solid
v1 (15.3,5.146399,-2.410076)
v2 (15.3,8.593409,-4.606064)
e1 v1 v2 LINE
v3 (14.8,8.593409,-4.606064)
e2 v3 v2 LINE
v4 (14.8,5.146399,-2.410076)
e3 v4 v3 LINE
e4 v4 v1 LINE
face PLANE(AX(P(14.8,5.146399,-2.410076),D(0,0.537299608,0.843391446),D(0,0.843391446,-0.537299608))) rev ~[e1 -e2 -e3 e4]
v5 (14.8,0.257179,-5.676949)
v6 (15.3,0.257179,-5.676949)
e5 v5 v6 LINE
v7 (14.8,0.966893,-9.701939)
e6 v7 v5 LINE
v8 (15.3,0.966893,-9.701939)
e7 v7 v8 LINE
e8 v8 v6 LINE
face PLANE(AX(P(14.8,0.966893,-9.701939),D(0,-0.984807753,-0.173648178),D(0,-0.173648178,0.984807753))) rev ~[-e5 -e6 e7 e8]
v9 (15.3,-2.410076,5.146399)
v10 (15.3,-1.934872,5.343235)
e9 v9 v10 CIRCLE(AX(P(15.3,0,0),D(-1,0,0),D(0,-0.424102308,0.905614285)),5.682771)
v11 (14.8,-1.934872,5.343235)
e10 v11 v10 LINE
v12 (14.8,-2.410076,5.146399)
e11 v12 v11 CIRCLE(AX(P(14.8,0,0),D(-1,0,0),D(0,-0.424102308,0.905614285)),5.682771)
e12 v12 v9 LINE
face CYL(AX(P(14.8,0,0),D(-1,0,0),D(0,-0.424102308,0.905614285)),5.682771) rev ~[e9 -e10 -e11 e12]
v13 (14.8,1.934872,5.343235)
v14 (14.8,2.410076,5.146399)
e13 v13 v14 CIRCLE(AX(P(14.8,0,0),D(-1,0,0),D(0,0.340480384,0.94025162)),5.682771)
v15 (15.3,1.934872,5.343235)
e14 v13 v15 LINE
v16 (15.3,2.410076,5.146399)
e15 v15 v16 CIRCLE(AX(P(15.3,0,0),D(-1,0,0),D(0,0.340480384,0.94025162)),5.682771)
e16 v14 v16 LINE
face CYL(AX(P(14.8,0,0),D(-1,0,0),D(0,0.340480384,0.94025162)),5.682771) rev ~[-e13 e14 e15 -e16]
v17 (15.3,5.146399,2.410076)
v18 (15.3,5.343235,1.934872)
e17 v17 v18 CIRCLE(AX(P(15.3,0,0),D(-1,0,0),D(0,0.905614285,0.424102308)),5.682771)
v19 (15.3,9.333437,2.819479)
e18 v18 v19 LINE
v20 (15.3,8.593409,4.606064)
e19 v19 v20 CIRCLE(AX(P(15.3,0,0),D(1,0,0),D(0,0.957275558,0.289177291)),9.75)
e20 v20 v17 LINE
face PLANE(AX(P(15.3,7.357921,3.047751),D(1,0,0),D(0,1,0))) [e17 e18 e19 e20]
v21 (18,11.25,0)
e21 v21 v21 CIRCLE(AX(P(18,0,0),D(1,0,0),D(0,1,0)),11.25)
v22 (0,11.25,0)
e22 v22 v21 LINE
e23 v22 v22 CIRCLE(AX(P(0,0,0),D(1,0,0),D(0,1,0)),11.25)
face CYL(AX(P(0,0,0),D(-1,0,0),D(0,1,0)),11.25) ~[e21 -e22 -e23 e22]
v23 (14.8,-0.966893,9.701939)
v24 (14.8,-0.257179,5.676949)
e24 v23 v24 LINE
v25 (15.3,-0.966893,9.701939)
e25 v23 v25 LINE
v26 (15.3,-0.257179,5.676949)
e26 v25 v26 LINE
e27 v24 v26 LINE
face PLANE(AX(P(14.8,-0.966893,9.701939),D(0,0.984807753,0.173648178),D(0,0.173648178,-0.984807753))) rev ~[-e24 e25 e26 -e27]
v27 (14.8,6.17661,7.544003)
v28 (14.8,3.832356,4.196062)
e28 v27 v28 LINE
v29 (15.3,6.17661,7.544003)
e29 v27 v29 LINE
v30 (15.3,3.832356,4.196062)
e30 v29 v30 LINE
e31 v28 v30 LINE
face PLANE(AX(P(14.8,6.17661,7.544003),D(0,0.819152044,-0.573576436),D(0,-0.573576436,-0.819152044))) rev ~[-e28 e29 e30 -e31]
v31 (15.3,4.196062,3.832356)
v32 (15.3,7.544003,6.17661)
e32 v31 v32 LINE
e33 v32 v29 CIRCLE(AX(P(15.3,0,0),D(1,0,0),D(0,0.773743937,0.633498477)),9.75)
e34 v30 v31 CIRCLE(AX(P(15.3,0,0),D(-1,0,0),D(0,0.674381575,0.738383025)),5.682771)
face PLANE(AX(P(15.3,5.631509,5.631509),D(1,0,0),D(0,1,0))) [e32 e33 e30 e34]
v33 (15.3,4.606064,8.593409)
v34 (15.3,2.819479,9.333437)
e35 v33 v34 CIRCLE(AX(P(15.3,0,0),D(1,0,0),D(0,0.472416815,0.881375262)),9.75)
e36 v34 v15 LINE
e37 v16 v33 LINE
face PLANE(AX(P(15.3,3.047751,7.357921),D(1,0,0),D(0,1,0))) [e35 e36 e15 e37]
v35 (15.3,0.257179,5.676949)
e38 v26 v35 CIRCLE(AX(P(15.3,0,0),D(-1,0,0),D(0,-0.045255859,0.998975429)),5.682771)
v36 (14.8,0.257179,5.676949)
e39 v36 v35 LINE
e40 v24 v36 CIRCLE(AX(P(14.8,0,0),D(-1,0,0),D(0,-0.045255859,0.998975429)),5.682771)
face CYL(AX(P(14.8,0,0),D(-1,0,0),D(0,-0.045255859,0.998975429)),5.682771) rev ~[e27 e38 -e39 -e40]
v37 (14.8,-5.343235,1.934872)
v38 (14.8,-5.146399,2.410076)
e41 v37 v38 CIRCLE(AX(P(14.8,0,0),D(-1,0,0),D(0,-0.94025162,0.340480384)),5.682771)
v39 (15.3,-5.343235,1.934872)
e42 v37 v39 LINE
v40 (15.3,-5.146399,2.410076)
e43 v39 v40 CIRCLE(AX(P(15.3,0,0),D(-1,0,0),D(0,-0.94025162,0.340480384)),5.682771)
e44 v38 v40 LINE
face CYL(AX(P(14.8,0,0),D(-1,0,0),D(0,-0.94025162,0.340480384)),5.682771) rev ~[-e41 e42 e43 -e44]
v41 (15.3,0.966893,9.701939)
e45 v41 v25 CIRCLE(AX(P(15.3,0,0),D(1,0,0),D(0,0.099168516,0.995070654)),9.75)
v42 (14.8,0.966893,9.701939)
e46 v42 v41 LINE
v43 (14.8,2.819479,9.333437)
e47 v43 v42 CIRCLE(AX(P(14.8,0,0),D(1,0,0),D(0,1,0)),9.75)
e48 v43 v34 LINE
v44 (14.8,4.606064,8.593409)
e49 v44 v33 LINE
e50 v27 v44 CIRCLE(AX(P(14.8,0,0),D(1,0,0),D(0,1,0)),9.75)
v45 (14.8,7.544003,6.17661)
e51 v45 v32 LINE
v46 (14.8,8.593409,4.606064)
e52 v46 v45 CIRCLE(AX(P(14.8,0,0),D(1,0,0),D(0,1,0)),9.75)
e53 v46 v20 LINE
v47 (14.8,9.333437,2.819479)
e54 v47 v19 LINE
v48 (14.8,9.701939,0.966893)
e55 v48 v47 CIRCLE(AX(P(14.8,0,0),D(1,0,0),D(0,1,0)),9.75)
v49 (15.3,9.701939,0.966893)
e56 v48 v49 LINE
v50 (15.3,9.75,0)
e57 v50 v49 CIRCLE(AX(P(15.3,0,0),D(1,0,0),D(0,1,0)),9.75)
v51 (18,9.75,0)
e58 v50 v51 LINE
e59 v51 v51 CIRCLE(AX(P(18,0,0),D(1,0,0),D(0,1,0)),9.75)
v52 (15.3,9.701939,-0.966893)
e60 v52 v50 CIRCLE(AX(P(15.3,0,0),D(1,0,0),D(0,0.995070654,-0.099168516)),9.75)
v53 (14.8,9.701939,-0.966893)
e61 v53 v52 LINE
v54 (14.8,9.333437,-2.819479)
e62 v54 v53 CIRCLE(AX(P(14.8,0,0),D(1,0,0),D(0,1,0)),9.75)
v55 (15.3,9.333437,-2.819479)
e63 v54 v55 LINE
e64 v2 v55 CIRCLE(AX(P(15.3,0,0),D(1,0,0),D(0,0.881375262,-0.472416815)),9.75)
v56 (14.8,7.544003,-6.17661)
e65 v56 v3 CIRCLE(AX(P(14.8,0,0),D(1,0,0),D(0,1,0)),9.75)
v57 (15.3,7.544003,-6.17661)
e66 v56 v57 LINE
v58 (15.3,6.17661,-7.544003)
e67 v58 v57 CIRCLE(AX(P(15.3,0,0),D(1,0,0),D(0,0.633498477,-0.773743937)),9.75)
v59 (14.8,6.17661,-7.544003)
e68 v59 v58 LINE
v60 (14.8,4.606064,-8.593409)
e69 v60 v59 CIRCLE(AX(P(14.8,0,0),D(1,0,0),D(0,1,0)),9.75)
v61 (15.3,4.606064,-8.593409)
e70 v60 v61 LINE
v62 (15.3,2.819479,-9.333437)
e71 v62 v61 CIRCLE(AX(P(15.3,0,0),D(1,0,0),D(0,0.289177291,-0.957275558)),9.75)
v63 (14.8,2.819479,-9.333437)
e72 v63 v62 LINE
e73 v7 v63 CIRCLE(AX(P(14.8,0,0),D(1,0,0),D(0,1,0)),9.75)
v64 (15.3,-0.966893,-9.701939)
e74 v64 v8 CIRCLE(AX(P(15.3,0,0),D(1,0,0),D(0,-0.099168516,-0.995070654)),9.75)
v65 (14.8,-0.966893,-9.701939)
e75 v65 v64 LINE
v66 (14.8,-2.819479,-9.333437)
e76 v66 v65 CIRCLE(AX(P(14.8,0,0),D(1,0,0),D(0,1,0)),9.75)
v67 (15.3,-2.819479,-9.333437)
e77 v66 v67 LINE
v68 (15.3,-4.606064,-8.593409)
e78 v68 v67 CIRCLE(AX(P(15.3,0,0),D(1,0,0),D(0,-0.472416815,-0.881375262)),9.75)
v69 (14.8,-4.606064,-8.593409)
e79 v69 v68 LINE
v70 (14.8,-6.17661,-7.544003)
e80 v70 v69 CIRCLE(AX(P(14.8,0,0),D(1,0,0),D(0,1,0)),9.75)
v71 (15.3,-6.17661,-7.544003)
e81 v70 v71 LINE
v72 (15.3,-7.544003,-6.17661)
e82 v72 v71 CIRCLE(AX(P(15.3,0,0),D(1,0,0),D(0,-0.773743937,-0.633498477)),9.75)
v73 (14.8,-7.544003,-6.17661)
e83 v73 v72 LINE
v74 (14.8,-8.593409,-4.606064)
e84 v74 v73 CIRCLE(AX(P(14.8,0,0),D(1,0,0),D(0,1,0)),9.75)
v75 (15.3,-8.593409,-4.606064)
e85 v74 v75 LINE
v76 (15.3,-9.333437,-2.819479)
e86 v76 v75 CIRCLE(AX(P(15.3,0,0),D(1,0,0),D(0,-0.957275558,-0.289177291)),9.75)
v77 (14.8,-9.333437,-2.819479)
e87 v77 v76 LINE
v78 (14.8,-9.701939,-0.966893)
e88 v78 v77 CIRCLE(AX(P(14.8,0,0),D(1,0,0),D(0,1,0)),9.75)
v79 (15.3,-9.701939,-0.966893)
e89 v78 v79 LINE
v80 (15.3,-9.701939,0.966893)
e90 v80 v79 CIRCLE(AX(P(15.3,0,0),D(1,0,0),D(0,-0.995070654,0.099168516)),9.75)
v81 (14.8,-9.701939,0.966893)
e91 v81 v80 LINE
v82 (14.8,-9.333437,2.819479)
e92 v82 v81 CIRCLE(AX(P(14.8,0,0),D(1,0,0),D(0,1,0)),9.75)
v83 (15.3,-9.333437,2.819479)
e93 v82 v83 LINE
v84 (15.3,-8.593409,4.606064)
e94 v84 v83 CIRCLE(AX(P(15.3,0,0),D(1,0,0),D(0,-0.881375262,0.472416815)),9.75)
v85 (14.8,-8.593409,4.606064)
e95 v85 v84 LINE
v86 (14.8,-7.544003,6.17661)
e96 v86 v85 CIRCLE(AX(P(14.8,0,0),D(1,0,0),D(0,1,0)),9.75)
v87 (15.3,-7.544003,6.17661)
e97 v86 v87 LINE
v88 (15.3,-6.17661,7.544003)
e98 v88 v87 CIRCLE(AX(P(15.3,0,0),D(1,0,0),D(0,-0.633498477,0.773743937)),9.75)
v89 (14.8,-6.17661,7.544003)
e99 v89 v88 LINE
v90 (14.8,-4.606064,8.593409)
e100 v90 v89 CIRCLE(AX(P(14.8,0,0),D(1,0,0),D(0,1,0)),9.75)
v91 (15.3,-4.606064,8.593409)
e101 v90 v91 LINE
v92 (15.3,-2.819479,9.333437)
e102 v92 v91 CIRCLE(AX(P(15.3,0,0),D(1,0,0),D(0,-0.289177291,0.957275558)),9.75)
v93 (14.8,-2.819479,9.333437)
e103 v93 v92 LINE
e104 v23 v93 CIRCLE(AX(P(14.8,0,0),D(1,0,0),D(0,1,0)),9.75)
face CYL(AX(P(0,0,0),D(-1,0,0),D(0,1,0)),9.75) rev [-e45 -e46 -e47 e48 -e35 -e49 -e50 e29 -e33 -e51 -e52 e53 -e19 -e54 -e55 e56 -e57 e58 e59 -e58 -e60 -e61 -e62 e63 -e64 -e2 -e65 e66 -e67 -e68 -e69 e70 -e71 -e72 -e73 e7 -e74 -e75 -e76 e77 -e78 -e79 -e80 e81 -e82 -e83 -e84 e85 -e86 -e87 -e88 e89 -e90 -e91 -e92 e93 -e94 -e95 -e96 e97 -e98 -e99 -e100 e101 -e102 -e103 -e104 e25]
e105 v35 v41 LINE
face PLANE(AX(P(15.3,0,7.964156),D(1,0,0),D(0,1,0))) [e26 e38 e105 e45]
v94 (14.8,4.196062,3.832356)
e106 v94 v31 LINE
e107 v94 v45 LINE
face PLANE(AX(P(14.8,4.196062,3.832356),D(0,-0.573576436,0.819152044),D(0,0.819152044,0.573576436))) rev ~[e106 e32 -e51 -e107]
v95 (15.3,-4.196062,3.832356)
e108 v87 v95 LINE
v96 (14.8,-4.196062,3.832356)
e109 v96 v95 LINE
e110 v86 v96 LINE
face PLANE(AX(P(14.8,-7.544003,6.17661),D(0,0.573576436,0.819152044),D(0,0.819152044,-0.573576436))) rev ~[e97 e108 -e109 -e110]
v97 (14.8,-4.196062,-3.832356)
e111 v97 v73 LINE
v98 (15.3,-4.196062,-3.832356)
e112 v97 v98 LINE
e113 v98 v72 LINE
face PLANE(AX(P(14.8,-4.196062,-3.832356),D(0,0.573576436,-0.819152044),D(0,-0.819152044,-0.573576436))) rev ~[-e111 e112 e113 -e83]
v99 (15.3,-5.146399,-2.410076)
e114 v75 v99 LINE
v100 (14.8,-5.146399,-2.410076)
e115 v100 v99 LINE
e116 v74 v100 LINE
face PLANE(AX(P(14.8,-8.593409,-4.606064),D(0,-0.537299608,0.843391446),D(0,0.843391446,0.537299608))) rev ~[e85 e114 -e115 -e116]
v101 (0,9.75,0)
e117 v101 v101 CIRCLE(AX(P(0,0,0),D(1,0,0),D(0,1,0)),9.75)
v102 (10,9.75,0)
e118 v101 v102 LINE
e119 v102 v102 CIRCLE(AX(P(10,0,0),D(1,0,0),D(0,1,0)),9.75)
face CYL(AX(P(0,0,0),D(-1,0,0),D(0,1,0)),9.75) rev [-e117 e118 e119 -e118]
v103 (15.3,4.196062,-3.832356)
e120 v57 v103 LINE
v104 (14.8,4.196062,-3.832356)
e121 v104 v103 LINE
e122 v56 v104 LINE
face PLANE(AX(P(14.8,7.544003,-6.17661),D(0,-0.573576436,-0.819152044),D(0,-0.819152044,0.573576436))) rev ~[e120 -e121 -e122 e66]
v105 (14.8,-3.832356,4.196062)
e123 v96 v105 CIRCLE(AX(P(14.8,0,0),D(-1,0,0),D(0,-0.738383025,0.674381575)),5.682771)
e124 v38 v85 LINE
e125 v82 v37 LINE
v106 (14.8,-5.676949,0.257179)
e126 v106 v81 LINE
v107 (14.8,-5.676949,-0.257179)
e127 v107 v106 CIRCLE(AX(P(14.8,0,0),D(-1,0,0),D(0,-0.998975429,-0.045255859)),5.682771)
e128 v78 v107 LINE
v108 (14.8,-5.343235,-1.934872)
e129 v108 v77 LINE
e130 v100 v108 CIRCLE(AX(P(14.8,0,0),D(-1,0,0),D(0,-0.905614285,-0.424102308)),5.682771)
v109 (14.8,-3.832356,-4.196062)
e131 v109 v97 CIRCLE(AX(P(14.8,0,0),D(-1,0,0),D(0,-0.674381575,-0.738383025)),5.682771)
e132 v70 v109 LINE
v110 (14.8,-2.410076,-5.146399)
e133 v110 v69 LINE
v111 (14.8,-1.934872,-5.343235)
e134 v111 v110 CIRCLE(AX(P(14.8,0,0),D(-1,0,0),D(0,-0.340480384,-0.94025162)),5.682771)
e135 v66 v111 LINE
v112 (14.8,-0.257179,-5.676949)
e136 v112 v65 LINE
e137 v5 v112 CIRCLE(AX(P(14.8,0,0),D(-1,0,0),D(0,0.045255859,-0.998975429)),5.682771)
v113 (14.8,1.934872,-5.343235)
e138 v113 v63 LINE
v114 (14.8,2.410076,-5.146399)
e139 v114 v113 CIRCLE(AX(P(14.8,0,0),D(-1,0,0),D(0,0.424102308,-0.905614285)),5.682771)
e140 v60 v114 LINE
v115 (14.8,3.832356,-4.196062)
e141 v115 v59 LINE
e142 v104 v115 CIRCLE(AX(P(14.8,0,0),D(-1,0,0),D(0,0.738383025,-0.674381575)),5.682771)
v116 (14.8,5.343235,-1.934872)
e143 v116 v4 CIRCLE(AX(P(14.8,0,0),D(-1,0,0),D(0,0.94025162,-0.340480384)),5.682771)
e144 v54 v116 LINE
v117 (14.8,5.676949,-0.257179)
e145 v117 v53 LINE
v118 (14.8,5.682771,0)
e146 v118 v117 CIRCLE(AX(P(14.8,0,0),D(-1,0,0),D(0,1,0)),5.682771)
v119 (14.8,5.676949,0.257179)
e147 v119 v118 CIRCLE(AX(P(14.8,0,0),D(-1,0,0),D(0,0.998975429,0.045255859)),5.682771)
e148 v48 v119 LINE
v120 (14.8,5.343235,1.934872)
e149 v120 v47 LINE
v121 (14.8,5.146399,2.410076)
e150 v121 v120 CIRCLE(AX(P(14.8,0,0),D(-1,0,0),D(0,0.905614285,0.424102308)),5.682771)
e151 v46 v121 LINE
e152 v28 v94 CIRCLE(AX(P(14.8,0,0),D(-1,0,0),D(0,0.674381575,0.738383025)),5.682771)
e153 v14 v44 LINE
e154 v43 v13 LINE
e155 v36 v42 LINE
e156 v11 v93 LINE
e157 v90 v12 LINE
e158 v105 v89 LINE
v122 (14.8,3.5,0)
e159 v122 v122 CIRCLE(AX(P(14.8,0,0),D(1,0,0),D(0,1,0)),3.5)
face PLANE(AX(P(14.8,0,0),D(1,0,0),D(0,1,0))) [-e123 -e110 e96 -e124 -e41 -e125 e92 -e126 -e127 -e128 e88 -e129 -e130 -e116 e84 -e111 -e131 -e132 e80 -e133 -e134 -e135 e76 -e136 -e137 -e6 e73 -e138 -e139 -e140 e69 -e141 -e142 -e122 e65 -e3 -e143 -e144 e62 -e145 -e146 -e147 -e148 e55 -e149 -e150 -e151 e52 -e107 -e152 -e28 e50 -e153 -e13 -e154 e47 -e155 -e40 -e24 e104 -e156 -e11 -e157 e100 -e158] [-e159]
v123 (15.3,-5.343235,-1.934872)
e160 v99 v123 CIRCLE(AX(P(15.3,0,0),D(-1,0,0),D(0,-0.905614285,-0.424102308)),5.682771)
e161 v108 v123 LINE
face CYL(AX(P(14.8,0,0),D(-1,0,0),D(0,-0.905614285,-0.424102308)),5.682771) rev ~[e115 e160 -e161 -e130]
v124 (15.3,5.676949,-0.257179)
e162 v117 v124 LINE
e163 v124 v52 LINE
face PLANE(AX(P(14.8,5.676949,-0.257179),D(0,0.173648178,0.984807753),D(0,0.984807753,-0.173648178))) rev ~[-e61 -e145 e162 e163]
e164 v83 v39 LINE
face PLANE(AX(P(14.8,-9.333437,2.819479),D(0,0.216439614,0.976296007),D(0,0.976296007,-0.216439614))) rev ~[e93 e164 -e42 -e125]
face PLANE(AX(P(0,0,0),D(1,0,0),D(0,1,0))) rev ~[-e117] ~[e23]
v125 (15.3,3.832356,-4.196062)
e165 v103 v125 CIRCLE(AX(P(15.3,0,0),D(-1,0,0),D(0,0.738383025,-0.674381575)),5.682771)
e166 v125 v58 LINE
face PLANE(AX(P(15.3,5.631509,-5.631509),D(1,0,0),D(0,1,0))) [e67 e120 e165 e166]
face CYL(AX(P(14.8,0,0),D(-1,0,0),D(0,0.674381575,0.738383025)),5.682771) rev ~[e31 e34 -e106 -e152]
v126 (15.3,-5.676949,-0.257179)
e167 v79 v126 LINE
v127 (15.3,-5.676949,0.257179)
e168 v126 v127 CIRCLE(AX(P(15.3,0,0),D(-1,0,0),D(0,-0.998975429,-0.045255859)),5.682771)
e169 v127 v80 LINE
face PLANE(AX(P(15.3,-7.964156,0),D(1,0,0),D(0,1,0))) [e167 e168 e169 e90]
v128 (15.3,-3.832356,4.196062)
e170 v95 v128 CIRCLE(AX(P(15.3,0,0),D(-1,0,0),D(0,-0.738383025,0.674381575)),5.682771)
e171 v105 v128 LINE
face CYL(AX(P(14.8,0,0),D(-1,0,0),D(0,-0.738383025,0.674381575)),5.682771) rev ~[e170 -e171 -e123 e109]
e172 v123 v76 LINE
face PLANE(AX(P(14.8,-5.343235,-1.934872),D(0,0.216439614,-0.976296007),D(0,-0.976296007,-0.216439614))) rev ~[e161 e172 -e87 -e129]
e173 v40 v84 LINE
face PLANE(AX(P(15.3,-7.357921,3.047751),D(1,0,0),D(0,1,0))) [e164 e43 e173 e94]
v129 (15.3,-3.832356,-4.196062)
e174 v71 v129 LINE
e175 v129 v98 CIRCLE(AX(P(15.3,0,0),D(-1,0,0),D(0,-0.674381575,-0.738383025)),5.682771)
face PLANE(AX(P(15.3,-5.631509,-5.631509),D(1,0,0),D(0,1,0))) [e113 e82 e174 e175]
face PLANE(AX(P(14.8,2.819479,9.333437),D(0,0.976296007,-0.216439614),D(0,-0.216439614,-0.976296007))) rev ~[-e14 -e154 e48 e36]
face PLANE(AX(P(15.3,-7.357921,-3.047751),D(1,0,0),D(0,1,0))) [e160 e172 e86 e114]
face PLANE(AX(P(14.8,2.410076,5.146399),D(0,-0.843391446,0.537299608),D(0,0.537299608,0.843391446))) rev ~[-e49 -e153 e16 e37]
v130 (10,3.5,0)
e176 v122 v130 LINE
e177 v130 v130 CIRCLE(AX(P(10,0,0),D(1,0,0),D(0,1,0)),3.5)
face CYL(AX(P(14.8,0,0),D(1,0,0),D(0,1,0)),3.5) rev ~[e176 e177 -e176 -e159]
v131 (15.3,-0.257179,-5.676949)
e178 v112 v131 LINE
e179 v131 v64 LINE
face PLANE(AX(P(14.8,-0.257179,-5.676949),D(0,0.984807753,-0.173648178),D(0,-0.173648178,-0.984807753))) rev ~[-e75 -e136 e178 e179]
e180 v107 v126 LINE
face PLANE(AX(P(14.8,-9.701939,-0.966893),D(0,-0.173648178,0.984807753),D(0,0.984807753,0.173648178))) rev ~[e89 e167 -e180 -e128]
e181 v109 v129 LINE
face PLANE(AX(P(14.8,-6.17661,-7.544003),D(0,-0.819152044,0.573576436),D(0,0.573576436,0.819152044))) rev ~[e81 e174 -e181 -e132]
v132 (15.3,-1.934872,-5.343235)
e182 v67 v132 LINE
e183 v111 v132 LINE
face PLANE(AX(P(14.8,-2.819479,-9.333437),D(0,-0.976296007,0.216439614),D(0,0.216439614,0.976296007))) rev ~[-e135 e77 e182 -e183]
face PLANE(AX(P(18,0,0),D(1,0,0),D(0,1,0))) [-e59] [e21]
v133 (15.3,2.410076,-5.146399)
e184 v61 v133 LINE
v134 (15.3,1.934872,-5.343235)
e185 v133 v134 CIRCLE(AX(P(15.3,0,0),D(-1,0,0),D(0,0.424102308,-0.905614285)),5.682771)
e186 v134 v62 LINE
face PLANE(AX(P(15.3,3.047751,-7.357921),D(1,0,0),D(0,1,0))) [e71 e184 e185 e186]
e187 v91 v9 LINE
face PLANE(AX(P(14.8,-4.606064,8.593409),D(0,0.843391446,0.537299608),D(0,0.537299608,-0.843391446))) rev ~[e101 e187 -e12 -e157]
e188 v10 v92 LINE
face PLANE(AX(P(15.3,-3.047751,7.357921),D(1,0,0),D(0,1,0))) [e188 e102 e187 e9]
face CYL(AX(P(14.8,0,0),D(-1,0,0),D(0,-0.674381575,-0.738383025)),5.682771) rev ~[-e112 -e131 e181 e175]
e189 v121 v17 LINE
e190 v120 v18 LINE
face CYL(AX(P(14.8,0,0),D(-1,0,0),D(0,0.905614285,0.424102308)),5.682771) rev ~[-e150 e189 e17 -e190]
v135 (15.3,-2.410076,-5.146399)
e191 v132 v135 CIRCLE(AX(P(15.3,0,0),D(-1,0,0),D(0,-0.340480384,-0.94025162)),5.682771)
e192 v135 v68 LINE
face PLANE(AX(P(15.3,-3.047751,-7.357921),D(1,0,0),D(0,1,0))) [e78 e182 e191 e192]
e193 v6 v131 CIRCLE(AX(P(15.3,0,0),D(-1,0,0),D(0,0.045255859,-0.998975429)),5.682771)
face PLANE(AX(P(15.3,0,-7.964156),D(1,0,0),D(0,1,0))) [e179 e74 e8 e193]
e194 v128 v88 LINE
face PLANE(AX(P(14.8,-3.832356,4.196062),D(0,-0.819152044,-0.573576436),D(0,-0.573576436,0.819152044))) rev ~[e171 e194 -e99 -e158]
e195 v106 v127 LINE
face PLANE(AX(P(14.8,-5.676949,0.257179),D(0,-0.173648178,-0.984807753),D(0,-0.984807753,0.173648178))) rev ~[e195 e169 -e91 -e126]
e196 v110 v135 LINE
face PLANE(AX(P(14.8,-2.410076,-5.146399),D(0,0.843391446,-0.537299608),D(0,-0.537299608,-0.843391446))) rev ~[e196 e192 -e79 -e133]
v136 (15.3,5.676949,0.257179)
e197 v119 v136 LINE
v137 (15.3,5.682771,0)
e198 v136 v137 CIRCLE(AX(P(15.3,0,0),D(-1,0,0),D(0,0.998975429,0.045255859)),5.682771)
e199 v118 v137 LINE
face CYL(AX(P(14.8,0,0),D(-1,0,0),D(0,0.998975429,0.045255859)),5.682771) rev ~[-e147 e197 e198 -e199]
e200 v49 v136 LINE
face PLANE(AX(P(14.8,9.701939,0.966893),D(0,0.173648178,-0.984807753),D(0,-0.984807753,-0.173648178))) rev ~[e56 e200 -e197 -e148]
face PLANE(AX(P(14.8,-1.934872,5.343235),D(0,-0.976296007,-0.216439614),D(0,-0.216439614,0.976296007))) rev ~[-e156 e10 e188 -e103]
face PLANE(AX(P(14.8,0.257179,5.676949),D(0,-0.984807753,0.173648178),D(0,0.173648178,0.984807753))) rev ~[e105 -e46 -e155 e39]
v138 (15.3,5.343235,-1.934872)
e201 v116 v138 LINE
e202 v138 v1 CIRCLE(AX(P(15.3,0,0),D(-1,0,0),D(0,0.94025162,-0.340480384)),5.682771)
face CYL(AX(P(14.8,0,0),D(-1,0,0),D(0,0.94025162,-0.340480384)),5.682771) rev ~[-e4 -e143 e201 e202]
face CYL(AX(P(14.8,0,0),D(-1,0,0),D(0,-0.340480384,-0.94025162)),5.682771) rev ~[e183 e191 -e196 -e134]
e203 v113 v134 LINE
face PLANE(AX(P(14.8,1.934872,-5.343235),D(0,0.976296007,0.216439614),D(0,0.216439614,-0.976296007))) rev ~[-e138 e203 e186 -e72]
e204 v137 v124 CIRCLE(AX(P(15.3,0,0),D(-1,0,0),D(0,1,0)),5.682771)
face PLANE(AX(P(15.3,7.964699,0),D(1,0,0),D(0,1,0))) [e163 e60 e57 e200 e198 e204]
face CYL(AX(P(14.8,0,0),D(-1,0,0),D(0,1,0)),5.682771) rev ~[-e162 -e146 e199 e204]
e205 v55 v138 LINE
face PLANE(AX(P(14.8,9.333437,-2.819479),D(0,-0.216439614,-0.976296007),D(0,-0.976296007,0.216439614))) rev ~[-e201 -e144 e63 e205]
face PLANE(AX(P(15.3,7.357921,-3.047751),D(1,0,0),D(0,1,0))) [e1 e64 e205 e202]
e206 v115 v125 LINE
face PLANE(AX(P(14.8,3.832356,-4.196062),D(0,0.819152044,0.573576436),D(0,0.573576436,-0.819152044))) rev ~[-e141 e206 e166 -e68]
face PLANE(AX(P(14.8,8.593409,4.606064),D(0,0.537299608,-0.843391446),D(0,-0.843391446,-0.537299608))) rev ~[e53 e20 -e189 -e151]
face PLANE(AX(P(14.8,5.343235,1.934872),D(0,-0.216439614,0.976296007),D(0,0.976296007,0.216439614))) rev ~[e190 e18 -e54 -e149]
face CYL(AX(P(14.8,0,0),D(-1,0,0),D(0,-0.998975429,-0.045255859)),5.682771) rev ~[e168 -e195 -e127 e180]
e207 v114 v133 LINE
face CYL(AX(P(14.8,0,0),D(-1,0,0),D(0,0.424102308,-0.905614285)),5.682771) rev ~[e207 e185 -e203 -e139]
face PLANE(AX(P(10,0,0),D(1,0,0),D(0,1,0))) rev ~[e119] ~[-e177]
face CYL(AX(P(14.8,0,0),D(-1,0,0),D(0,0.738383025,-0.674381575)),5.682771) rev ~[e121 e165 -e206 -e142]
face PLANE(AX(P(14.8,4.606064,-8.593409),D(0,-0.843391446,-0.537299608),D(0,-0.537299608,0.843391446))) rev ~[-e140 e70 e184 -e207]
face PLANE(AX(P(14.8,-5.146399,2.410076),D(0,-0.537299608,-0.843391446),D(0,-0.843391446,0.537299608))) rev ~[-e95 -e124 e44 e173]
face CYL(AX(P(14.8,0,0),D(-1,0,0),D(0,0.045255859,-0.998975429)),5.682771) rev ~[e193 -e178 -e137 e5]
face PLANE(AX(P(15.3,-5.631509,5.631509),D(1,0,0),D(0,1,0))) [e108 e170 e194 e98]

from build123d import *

# Parameters (mm, degrees)
F0_R     = 9.75
F2_DEPTH = 18
F1_R     = 11.25
F1_R_2   = 9.75
F3_DEPTH = 18
F4_DEPTH = 10
F5_DEPTH = 3.2
F6_R     = 3.5
F7_DEPTH = 14.801
F9_DEPTH = 0.5


with BuildPart() as f2:
    # F0 (on Right) → F2 (new body)
    with BuildSketch(Plane.YZ):
        Circle(F0_R)
    extrude(amount=F2_DEPTH)

    # F4 (cut): a face of the model
    f4_faces = [f2.faces().sort_by_distance(p)[0] for p in [
        (0, 0, 0),
    ]]
    extrude(f4_faces, amount=-F4_DEPTH, mode=Mode.SUBTRACT)

    # F5 (cut): a face of the model
    f5_faces = [f2.faces().sort_by_distance(p)[0] for p in [
        (18, 0, 0),
    ]]
    extrude(f5_faces, amount=-F5_DEPTH, mode=Mode.SUBTRACT)

    # F6 (on face) → F7 (cut, through all)
    with BuildSketch(Plane.YZ.offset(14.8)):
        Circle(F6_R)
    extrude(amount=-F7_DEPTH, mode=Mode.SUBTRACT)



with BuildPart() as f3:
    # F1 (on face) → F3 (new body)
    with BuildSketch(Plane.YZ):
        Circle(F1_R)
        Circle(F1_R_2, mode=Mode.SUBTRACT)
    extrude(amount=F3_DEPTH)


with BuildPart() as f2_1:
    add(f2.part)

    add(f3.part)  # F9 merges F3
    # F8 (on face) → F9 (join)
    with BuildSketch(Plane.YZ.offset(14.8)):
        with BuildLine():
            ThreePointArc((-4.19606186, 3.8323562574), (-4.0183261202, 4.0183261202), (-3.8323562574, 4.19606186))
            Line((-3.8323562574, 4.19606186), (-6.1766101499, 7.5440033839))
            ThreePointArc((-6.1766101499, 7.5440033839), (-6.8942911166, 6.8942911166), (-7.5440033839, 6.1766101499))
            Line((-7.5440033839, 6.1766101499), (-4.19606186, 3.8323562574))
        make_face()
        with BuildLine():
            ThreePointArc((-2.410076423, 5.1463988625), (-2.1747024254, 5.2501960894), (-1.9348721525, 5.3432349162))
            Line((-1.9348721525, 5.3432349162), (-2.8194785891, 9.3334366921))
            ThreePointArc((-2.8194785891, 9.3334366921), (-3.7311634656, 9.007825442), (-4.606063947, 8.5934088065))
            Line((-4.606063947, 8.5934088065), (-2.410076423, 5.1463988625))
        make_face()
        with BuildLine():
            ThreePointArc((-0.2571786979, 5.676948893), (0, 5.6827712972), (0.2571786979, 5.676948893))
            Line((0.2571786979, 5.676948893), (0.9668930283, 9.7019388718))
            ThreePointArc((0.9668930283, 9.7019388718), (0, 9.75), (-0.9668930283, 9.7019388718))
            Line((-0.9668930283, 9.7019388718), (-0.2571786979, 5.676948893))
        make_face()
        with BuildLine():
            Line((2.8194785891, 9.3334366921), (1.9348721525, 5.3432349162))
            ThreePointArc((1.9348721525, 5.3432349162), (2.1747024254, 5.2501960894), (2.410076423, 5.1463988625))
            Line((2.410076423, 5.1463988625), (4.606063947, 8.5934088065))
            ThreePointArc((4.606063947, 8.5934088065), (3.7311634656, 9.007825442), (2.8194785891, 9.3334366921))
        make_face()
        with BuildLine():
            Line((6.1766101499, 7.5440033839), (3.8323562574, 4.19606186))
            ThreePointArc((3.8323562574, 4.19606186), (4.0183261202, 4.0183261202), (4.19606186, 3.8323562574))
            Line((4.19606186, 3.8323562574), (7.5440033839, 6.1766101499))
            ThreePointArc((7.5440033839, 6.1766101499), (6.8942911166, 6.8942911166), (6.1766101499, 7.5440033839))
        make_face()
        with BuildLine():
            Line((8.5934088065, 4.606063947), (5.1463988625, 2.410076423))
            ThreePointArc((5.1463988625, 2.410076423), (5.2501960894, 2.1747024254), (5.3432349162, 1.9348721525))
            Line((5.3432349162, 1.9348721525), (9.3334366921, 2.8194785891))
            ThreePointArc((9.3334366921, 2.8194785891), (9.007825442, 3.7311634656), (8.5934088065, 4.606063947))
        make_face()
        with BuildLine():
            Line((9.7019388718, 0.9668930283), (5.676948893, 0.2571786979))
            ThreePointArc((5.676948893, 0.2571786979), (5.6813155097, 0.1286222989), (5.6827712972, 0))
            ThreePointArc((5.6827712972, 0), (5.6813155097, -0.1286222989), (5.676948893, -0.2571786979))
            Line((5.676948893, -0.2571786979), (9.7019388718, -0.9668930283))
            ThreePointArc((9.7019388718, -0.9668930283), (9.7379773054, -0.4840433865), (9.75, 0))
            ThreePointArc((9.75, 0), (9.7379773054, 0.4840433865), (9.7019388718, 0.9668930283))
        make_face()
        with BuildLine():
            Line((9.3334366921, -2.8194785891), (5.3432349162, -1.9348721525))
            ThreePointArc((5.3432349162, -1.9348721525), (5.2501960894, -2.1747024254), (5.1463988625, -2.410076423))
            Line((5.1463988625, -2.410076423), (8.5934088065, -4.606063947))
            ThreePointArc((8.5934088065, -4.606063947), (9.007825442, -3.7311634656), (9.3334366921, -2.8194785891))
        make_face()
        with BuildLine():
            Line((7.5440033839, -6.1766101499), (4.19606186, -3.8323562574))
            ThreePointArc((4.19606186, -3.8323562574), (4.0183261202, -4.0183261202), (3.8323562574, -4.19606186))
            Line((3.8323562574, -4.19606186), (6.1766101499, -7.5440033839))
            ThreePointArc((6.1766101499, -7.5440033839), (6.8942911166, -6.8942911166), (7.5440033839, -6.1766101499))
        make_face()
        with BuildLine():
            Line((4.606063947, -8.5934088065), (2.410076423, -5.1463988625))
            ThreePointArc((2.410076423, -5.1463988625), (2.1747024254, -5.2501960894), (1.9348721525, -5.3432349162))
            Line((1.9348721525, -5.3432349162), (2.8194785891, -9.3334366921))
            ThreePointArc((2.8194785891, -9.3334366921), (3.7311634656, -9.007825442), (4.606063947, -8.5934088065))
        make_face()
        with BuildLine():
            ThreePointArc((0.2571786979, -5.676948893), (0, -5.6827712972), (-0.2571786979, -5.676948893))
            Line((-0.2571786979, -5.676948893), (-0.9668930283, -9.7019388718))
            ThreePointArc((-0.9668930283, -9.7019388718), (0, -9.75), (0.9668930283, -9.7019388718))
            Line((0.9668930283, -9.7019388718), (0.2571786979, -5.676948893))
        make_face()
        with BuildLine():
            ThreePointArc((-1.9348721525, -5.3432349162), (-2.1747024254, -5.2501960894), (-2.410076423, -5.1463988625))
            Line((-2.410076423, -5.1463988625), (-4.606063947, -8.5934088065))
            ThreePointArc((-4.606063947, -8.5934088065), (-3.7311634656, -9.007825442), (-2.8194785891, -9.3334366921))
            Line((-2.8194785891, -9.3334366921), (-1.9348721525, -5.3432349162))
        make_face()
        with BuildLine():
            ThreePointArc((-3.8323562574, -4.19606186), (-4.0183261202, -4.0183261202), (-4.19606186, -3.8323562574))
            Line((-4.19606186, -3.8323562574), (-7.5440033839, -6.1766101499))
            ThreePointArc((-7.5440033839, -6.1766101499), (-6.8942911166, -6.8942911166), (-6.1766101499, -7.5440033839))
            Line((-6.1766101499, -7.5440033839), (-3.8323562574, -4.19606186))
        make_face()
        with BuildLine():
            ThreePointArc((-5.1463988625, -2.410076423), (-5.2501960894, -2.1747024254), (-5.3432349162, -1.9348721525))
            Line((-5.3432349162, -1.9348721525), (-9.3334366921, -2.8194785891))
            ThreePointArc((-9.3334366921, -2.8194785891), (-9.007825442, -3.7311634656), (-8.5934088065, -4.606063947))
            Line((-8.5934088065, -4.606063947), (-5.1463988625, -2.410076423))
        make_face()
        with BuildLine():
            ThreePointArc((-5.676948893, -0.2571786979), (-5.6827712972, 0), (-5.676948893, 0.2571786979))
            Line((-5.676948893, 0.2571786979), (-9.7019388718, 0.9668930283))
            ThreePointArc((-9.7019388718, 0.9668930283), (-9.75, 0), (-9.7019388718, -0.9668930283))
            Line((-9.7019388718, -0.9668930283), (-5.676948893, -0.2571786979))
        make_face()
        with BuildLine():
            ThreePointArc((-5.3432349162, 1.9348721525), (-5.2501960894, 2.1747024254), (-5.1463988625, 2.410076423))
            Line((-5.1463988625, 2.410076423), (-8.5934088065, 4.606063947))
            ThreePointArc((-8.5934088065, 4.606063947), (-9.007825442, 3.7311634656), (-9.3334366921, 2.8194785891))
            Line((-9.3334366921, 2.8194785891), (-5.3432349162, 1.9348721525))
        make_face()
    extrude(amount=F9_DEPTH)


solid = f2_1.part
